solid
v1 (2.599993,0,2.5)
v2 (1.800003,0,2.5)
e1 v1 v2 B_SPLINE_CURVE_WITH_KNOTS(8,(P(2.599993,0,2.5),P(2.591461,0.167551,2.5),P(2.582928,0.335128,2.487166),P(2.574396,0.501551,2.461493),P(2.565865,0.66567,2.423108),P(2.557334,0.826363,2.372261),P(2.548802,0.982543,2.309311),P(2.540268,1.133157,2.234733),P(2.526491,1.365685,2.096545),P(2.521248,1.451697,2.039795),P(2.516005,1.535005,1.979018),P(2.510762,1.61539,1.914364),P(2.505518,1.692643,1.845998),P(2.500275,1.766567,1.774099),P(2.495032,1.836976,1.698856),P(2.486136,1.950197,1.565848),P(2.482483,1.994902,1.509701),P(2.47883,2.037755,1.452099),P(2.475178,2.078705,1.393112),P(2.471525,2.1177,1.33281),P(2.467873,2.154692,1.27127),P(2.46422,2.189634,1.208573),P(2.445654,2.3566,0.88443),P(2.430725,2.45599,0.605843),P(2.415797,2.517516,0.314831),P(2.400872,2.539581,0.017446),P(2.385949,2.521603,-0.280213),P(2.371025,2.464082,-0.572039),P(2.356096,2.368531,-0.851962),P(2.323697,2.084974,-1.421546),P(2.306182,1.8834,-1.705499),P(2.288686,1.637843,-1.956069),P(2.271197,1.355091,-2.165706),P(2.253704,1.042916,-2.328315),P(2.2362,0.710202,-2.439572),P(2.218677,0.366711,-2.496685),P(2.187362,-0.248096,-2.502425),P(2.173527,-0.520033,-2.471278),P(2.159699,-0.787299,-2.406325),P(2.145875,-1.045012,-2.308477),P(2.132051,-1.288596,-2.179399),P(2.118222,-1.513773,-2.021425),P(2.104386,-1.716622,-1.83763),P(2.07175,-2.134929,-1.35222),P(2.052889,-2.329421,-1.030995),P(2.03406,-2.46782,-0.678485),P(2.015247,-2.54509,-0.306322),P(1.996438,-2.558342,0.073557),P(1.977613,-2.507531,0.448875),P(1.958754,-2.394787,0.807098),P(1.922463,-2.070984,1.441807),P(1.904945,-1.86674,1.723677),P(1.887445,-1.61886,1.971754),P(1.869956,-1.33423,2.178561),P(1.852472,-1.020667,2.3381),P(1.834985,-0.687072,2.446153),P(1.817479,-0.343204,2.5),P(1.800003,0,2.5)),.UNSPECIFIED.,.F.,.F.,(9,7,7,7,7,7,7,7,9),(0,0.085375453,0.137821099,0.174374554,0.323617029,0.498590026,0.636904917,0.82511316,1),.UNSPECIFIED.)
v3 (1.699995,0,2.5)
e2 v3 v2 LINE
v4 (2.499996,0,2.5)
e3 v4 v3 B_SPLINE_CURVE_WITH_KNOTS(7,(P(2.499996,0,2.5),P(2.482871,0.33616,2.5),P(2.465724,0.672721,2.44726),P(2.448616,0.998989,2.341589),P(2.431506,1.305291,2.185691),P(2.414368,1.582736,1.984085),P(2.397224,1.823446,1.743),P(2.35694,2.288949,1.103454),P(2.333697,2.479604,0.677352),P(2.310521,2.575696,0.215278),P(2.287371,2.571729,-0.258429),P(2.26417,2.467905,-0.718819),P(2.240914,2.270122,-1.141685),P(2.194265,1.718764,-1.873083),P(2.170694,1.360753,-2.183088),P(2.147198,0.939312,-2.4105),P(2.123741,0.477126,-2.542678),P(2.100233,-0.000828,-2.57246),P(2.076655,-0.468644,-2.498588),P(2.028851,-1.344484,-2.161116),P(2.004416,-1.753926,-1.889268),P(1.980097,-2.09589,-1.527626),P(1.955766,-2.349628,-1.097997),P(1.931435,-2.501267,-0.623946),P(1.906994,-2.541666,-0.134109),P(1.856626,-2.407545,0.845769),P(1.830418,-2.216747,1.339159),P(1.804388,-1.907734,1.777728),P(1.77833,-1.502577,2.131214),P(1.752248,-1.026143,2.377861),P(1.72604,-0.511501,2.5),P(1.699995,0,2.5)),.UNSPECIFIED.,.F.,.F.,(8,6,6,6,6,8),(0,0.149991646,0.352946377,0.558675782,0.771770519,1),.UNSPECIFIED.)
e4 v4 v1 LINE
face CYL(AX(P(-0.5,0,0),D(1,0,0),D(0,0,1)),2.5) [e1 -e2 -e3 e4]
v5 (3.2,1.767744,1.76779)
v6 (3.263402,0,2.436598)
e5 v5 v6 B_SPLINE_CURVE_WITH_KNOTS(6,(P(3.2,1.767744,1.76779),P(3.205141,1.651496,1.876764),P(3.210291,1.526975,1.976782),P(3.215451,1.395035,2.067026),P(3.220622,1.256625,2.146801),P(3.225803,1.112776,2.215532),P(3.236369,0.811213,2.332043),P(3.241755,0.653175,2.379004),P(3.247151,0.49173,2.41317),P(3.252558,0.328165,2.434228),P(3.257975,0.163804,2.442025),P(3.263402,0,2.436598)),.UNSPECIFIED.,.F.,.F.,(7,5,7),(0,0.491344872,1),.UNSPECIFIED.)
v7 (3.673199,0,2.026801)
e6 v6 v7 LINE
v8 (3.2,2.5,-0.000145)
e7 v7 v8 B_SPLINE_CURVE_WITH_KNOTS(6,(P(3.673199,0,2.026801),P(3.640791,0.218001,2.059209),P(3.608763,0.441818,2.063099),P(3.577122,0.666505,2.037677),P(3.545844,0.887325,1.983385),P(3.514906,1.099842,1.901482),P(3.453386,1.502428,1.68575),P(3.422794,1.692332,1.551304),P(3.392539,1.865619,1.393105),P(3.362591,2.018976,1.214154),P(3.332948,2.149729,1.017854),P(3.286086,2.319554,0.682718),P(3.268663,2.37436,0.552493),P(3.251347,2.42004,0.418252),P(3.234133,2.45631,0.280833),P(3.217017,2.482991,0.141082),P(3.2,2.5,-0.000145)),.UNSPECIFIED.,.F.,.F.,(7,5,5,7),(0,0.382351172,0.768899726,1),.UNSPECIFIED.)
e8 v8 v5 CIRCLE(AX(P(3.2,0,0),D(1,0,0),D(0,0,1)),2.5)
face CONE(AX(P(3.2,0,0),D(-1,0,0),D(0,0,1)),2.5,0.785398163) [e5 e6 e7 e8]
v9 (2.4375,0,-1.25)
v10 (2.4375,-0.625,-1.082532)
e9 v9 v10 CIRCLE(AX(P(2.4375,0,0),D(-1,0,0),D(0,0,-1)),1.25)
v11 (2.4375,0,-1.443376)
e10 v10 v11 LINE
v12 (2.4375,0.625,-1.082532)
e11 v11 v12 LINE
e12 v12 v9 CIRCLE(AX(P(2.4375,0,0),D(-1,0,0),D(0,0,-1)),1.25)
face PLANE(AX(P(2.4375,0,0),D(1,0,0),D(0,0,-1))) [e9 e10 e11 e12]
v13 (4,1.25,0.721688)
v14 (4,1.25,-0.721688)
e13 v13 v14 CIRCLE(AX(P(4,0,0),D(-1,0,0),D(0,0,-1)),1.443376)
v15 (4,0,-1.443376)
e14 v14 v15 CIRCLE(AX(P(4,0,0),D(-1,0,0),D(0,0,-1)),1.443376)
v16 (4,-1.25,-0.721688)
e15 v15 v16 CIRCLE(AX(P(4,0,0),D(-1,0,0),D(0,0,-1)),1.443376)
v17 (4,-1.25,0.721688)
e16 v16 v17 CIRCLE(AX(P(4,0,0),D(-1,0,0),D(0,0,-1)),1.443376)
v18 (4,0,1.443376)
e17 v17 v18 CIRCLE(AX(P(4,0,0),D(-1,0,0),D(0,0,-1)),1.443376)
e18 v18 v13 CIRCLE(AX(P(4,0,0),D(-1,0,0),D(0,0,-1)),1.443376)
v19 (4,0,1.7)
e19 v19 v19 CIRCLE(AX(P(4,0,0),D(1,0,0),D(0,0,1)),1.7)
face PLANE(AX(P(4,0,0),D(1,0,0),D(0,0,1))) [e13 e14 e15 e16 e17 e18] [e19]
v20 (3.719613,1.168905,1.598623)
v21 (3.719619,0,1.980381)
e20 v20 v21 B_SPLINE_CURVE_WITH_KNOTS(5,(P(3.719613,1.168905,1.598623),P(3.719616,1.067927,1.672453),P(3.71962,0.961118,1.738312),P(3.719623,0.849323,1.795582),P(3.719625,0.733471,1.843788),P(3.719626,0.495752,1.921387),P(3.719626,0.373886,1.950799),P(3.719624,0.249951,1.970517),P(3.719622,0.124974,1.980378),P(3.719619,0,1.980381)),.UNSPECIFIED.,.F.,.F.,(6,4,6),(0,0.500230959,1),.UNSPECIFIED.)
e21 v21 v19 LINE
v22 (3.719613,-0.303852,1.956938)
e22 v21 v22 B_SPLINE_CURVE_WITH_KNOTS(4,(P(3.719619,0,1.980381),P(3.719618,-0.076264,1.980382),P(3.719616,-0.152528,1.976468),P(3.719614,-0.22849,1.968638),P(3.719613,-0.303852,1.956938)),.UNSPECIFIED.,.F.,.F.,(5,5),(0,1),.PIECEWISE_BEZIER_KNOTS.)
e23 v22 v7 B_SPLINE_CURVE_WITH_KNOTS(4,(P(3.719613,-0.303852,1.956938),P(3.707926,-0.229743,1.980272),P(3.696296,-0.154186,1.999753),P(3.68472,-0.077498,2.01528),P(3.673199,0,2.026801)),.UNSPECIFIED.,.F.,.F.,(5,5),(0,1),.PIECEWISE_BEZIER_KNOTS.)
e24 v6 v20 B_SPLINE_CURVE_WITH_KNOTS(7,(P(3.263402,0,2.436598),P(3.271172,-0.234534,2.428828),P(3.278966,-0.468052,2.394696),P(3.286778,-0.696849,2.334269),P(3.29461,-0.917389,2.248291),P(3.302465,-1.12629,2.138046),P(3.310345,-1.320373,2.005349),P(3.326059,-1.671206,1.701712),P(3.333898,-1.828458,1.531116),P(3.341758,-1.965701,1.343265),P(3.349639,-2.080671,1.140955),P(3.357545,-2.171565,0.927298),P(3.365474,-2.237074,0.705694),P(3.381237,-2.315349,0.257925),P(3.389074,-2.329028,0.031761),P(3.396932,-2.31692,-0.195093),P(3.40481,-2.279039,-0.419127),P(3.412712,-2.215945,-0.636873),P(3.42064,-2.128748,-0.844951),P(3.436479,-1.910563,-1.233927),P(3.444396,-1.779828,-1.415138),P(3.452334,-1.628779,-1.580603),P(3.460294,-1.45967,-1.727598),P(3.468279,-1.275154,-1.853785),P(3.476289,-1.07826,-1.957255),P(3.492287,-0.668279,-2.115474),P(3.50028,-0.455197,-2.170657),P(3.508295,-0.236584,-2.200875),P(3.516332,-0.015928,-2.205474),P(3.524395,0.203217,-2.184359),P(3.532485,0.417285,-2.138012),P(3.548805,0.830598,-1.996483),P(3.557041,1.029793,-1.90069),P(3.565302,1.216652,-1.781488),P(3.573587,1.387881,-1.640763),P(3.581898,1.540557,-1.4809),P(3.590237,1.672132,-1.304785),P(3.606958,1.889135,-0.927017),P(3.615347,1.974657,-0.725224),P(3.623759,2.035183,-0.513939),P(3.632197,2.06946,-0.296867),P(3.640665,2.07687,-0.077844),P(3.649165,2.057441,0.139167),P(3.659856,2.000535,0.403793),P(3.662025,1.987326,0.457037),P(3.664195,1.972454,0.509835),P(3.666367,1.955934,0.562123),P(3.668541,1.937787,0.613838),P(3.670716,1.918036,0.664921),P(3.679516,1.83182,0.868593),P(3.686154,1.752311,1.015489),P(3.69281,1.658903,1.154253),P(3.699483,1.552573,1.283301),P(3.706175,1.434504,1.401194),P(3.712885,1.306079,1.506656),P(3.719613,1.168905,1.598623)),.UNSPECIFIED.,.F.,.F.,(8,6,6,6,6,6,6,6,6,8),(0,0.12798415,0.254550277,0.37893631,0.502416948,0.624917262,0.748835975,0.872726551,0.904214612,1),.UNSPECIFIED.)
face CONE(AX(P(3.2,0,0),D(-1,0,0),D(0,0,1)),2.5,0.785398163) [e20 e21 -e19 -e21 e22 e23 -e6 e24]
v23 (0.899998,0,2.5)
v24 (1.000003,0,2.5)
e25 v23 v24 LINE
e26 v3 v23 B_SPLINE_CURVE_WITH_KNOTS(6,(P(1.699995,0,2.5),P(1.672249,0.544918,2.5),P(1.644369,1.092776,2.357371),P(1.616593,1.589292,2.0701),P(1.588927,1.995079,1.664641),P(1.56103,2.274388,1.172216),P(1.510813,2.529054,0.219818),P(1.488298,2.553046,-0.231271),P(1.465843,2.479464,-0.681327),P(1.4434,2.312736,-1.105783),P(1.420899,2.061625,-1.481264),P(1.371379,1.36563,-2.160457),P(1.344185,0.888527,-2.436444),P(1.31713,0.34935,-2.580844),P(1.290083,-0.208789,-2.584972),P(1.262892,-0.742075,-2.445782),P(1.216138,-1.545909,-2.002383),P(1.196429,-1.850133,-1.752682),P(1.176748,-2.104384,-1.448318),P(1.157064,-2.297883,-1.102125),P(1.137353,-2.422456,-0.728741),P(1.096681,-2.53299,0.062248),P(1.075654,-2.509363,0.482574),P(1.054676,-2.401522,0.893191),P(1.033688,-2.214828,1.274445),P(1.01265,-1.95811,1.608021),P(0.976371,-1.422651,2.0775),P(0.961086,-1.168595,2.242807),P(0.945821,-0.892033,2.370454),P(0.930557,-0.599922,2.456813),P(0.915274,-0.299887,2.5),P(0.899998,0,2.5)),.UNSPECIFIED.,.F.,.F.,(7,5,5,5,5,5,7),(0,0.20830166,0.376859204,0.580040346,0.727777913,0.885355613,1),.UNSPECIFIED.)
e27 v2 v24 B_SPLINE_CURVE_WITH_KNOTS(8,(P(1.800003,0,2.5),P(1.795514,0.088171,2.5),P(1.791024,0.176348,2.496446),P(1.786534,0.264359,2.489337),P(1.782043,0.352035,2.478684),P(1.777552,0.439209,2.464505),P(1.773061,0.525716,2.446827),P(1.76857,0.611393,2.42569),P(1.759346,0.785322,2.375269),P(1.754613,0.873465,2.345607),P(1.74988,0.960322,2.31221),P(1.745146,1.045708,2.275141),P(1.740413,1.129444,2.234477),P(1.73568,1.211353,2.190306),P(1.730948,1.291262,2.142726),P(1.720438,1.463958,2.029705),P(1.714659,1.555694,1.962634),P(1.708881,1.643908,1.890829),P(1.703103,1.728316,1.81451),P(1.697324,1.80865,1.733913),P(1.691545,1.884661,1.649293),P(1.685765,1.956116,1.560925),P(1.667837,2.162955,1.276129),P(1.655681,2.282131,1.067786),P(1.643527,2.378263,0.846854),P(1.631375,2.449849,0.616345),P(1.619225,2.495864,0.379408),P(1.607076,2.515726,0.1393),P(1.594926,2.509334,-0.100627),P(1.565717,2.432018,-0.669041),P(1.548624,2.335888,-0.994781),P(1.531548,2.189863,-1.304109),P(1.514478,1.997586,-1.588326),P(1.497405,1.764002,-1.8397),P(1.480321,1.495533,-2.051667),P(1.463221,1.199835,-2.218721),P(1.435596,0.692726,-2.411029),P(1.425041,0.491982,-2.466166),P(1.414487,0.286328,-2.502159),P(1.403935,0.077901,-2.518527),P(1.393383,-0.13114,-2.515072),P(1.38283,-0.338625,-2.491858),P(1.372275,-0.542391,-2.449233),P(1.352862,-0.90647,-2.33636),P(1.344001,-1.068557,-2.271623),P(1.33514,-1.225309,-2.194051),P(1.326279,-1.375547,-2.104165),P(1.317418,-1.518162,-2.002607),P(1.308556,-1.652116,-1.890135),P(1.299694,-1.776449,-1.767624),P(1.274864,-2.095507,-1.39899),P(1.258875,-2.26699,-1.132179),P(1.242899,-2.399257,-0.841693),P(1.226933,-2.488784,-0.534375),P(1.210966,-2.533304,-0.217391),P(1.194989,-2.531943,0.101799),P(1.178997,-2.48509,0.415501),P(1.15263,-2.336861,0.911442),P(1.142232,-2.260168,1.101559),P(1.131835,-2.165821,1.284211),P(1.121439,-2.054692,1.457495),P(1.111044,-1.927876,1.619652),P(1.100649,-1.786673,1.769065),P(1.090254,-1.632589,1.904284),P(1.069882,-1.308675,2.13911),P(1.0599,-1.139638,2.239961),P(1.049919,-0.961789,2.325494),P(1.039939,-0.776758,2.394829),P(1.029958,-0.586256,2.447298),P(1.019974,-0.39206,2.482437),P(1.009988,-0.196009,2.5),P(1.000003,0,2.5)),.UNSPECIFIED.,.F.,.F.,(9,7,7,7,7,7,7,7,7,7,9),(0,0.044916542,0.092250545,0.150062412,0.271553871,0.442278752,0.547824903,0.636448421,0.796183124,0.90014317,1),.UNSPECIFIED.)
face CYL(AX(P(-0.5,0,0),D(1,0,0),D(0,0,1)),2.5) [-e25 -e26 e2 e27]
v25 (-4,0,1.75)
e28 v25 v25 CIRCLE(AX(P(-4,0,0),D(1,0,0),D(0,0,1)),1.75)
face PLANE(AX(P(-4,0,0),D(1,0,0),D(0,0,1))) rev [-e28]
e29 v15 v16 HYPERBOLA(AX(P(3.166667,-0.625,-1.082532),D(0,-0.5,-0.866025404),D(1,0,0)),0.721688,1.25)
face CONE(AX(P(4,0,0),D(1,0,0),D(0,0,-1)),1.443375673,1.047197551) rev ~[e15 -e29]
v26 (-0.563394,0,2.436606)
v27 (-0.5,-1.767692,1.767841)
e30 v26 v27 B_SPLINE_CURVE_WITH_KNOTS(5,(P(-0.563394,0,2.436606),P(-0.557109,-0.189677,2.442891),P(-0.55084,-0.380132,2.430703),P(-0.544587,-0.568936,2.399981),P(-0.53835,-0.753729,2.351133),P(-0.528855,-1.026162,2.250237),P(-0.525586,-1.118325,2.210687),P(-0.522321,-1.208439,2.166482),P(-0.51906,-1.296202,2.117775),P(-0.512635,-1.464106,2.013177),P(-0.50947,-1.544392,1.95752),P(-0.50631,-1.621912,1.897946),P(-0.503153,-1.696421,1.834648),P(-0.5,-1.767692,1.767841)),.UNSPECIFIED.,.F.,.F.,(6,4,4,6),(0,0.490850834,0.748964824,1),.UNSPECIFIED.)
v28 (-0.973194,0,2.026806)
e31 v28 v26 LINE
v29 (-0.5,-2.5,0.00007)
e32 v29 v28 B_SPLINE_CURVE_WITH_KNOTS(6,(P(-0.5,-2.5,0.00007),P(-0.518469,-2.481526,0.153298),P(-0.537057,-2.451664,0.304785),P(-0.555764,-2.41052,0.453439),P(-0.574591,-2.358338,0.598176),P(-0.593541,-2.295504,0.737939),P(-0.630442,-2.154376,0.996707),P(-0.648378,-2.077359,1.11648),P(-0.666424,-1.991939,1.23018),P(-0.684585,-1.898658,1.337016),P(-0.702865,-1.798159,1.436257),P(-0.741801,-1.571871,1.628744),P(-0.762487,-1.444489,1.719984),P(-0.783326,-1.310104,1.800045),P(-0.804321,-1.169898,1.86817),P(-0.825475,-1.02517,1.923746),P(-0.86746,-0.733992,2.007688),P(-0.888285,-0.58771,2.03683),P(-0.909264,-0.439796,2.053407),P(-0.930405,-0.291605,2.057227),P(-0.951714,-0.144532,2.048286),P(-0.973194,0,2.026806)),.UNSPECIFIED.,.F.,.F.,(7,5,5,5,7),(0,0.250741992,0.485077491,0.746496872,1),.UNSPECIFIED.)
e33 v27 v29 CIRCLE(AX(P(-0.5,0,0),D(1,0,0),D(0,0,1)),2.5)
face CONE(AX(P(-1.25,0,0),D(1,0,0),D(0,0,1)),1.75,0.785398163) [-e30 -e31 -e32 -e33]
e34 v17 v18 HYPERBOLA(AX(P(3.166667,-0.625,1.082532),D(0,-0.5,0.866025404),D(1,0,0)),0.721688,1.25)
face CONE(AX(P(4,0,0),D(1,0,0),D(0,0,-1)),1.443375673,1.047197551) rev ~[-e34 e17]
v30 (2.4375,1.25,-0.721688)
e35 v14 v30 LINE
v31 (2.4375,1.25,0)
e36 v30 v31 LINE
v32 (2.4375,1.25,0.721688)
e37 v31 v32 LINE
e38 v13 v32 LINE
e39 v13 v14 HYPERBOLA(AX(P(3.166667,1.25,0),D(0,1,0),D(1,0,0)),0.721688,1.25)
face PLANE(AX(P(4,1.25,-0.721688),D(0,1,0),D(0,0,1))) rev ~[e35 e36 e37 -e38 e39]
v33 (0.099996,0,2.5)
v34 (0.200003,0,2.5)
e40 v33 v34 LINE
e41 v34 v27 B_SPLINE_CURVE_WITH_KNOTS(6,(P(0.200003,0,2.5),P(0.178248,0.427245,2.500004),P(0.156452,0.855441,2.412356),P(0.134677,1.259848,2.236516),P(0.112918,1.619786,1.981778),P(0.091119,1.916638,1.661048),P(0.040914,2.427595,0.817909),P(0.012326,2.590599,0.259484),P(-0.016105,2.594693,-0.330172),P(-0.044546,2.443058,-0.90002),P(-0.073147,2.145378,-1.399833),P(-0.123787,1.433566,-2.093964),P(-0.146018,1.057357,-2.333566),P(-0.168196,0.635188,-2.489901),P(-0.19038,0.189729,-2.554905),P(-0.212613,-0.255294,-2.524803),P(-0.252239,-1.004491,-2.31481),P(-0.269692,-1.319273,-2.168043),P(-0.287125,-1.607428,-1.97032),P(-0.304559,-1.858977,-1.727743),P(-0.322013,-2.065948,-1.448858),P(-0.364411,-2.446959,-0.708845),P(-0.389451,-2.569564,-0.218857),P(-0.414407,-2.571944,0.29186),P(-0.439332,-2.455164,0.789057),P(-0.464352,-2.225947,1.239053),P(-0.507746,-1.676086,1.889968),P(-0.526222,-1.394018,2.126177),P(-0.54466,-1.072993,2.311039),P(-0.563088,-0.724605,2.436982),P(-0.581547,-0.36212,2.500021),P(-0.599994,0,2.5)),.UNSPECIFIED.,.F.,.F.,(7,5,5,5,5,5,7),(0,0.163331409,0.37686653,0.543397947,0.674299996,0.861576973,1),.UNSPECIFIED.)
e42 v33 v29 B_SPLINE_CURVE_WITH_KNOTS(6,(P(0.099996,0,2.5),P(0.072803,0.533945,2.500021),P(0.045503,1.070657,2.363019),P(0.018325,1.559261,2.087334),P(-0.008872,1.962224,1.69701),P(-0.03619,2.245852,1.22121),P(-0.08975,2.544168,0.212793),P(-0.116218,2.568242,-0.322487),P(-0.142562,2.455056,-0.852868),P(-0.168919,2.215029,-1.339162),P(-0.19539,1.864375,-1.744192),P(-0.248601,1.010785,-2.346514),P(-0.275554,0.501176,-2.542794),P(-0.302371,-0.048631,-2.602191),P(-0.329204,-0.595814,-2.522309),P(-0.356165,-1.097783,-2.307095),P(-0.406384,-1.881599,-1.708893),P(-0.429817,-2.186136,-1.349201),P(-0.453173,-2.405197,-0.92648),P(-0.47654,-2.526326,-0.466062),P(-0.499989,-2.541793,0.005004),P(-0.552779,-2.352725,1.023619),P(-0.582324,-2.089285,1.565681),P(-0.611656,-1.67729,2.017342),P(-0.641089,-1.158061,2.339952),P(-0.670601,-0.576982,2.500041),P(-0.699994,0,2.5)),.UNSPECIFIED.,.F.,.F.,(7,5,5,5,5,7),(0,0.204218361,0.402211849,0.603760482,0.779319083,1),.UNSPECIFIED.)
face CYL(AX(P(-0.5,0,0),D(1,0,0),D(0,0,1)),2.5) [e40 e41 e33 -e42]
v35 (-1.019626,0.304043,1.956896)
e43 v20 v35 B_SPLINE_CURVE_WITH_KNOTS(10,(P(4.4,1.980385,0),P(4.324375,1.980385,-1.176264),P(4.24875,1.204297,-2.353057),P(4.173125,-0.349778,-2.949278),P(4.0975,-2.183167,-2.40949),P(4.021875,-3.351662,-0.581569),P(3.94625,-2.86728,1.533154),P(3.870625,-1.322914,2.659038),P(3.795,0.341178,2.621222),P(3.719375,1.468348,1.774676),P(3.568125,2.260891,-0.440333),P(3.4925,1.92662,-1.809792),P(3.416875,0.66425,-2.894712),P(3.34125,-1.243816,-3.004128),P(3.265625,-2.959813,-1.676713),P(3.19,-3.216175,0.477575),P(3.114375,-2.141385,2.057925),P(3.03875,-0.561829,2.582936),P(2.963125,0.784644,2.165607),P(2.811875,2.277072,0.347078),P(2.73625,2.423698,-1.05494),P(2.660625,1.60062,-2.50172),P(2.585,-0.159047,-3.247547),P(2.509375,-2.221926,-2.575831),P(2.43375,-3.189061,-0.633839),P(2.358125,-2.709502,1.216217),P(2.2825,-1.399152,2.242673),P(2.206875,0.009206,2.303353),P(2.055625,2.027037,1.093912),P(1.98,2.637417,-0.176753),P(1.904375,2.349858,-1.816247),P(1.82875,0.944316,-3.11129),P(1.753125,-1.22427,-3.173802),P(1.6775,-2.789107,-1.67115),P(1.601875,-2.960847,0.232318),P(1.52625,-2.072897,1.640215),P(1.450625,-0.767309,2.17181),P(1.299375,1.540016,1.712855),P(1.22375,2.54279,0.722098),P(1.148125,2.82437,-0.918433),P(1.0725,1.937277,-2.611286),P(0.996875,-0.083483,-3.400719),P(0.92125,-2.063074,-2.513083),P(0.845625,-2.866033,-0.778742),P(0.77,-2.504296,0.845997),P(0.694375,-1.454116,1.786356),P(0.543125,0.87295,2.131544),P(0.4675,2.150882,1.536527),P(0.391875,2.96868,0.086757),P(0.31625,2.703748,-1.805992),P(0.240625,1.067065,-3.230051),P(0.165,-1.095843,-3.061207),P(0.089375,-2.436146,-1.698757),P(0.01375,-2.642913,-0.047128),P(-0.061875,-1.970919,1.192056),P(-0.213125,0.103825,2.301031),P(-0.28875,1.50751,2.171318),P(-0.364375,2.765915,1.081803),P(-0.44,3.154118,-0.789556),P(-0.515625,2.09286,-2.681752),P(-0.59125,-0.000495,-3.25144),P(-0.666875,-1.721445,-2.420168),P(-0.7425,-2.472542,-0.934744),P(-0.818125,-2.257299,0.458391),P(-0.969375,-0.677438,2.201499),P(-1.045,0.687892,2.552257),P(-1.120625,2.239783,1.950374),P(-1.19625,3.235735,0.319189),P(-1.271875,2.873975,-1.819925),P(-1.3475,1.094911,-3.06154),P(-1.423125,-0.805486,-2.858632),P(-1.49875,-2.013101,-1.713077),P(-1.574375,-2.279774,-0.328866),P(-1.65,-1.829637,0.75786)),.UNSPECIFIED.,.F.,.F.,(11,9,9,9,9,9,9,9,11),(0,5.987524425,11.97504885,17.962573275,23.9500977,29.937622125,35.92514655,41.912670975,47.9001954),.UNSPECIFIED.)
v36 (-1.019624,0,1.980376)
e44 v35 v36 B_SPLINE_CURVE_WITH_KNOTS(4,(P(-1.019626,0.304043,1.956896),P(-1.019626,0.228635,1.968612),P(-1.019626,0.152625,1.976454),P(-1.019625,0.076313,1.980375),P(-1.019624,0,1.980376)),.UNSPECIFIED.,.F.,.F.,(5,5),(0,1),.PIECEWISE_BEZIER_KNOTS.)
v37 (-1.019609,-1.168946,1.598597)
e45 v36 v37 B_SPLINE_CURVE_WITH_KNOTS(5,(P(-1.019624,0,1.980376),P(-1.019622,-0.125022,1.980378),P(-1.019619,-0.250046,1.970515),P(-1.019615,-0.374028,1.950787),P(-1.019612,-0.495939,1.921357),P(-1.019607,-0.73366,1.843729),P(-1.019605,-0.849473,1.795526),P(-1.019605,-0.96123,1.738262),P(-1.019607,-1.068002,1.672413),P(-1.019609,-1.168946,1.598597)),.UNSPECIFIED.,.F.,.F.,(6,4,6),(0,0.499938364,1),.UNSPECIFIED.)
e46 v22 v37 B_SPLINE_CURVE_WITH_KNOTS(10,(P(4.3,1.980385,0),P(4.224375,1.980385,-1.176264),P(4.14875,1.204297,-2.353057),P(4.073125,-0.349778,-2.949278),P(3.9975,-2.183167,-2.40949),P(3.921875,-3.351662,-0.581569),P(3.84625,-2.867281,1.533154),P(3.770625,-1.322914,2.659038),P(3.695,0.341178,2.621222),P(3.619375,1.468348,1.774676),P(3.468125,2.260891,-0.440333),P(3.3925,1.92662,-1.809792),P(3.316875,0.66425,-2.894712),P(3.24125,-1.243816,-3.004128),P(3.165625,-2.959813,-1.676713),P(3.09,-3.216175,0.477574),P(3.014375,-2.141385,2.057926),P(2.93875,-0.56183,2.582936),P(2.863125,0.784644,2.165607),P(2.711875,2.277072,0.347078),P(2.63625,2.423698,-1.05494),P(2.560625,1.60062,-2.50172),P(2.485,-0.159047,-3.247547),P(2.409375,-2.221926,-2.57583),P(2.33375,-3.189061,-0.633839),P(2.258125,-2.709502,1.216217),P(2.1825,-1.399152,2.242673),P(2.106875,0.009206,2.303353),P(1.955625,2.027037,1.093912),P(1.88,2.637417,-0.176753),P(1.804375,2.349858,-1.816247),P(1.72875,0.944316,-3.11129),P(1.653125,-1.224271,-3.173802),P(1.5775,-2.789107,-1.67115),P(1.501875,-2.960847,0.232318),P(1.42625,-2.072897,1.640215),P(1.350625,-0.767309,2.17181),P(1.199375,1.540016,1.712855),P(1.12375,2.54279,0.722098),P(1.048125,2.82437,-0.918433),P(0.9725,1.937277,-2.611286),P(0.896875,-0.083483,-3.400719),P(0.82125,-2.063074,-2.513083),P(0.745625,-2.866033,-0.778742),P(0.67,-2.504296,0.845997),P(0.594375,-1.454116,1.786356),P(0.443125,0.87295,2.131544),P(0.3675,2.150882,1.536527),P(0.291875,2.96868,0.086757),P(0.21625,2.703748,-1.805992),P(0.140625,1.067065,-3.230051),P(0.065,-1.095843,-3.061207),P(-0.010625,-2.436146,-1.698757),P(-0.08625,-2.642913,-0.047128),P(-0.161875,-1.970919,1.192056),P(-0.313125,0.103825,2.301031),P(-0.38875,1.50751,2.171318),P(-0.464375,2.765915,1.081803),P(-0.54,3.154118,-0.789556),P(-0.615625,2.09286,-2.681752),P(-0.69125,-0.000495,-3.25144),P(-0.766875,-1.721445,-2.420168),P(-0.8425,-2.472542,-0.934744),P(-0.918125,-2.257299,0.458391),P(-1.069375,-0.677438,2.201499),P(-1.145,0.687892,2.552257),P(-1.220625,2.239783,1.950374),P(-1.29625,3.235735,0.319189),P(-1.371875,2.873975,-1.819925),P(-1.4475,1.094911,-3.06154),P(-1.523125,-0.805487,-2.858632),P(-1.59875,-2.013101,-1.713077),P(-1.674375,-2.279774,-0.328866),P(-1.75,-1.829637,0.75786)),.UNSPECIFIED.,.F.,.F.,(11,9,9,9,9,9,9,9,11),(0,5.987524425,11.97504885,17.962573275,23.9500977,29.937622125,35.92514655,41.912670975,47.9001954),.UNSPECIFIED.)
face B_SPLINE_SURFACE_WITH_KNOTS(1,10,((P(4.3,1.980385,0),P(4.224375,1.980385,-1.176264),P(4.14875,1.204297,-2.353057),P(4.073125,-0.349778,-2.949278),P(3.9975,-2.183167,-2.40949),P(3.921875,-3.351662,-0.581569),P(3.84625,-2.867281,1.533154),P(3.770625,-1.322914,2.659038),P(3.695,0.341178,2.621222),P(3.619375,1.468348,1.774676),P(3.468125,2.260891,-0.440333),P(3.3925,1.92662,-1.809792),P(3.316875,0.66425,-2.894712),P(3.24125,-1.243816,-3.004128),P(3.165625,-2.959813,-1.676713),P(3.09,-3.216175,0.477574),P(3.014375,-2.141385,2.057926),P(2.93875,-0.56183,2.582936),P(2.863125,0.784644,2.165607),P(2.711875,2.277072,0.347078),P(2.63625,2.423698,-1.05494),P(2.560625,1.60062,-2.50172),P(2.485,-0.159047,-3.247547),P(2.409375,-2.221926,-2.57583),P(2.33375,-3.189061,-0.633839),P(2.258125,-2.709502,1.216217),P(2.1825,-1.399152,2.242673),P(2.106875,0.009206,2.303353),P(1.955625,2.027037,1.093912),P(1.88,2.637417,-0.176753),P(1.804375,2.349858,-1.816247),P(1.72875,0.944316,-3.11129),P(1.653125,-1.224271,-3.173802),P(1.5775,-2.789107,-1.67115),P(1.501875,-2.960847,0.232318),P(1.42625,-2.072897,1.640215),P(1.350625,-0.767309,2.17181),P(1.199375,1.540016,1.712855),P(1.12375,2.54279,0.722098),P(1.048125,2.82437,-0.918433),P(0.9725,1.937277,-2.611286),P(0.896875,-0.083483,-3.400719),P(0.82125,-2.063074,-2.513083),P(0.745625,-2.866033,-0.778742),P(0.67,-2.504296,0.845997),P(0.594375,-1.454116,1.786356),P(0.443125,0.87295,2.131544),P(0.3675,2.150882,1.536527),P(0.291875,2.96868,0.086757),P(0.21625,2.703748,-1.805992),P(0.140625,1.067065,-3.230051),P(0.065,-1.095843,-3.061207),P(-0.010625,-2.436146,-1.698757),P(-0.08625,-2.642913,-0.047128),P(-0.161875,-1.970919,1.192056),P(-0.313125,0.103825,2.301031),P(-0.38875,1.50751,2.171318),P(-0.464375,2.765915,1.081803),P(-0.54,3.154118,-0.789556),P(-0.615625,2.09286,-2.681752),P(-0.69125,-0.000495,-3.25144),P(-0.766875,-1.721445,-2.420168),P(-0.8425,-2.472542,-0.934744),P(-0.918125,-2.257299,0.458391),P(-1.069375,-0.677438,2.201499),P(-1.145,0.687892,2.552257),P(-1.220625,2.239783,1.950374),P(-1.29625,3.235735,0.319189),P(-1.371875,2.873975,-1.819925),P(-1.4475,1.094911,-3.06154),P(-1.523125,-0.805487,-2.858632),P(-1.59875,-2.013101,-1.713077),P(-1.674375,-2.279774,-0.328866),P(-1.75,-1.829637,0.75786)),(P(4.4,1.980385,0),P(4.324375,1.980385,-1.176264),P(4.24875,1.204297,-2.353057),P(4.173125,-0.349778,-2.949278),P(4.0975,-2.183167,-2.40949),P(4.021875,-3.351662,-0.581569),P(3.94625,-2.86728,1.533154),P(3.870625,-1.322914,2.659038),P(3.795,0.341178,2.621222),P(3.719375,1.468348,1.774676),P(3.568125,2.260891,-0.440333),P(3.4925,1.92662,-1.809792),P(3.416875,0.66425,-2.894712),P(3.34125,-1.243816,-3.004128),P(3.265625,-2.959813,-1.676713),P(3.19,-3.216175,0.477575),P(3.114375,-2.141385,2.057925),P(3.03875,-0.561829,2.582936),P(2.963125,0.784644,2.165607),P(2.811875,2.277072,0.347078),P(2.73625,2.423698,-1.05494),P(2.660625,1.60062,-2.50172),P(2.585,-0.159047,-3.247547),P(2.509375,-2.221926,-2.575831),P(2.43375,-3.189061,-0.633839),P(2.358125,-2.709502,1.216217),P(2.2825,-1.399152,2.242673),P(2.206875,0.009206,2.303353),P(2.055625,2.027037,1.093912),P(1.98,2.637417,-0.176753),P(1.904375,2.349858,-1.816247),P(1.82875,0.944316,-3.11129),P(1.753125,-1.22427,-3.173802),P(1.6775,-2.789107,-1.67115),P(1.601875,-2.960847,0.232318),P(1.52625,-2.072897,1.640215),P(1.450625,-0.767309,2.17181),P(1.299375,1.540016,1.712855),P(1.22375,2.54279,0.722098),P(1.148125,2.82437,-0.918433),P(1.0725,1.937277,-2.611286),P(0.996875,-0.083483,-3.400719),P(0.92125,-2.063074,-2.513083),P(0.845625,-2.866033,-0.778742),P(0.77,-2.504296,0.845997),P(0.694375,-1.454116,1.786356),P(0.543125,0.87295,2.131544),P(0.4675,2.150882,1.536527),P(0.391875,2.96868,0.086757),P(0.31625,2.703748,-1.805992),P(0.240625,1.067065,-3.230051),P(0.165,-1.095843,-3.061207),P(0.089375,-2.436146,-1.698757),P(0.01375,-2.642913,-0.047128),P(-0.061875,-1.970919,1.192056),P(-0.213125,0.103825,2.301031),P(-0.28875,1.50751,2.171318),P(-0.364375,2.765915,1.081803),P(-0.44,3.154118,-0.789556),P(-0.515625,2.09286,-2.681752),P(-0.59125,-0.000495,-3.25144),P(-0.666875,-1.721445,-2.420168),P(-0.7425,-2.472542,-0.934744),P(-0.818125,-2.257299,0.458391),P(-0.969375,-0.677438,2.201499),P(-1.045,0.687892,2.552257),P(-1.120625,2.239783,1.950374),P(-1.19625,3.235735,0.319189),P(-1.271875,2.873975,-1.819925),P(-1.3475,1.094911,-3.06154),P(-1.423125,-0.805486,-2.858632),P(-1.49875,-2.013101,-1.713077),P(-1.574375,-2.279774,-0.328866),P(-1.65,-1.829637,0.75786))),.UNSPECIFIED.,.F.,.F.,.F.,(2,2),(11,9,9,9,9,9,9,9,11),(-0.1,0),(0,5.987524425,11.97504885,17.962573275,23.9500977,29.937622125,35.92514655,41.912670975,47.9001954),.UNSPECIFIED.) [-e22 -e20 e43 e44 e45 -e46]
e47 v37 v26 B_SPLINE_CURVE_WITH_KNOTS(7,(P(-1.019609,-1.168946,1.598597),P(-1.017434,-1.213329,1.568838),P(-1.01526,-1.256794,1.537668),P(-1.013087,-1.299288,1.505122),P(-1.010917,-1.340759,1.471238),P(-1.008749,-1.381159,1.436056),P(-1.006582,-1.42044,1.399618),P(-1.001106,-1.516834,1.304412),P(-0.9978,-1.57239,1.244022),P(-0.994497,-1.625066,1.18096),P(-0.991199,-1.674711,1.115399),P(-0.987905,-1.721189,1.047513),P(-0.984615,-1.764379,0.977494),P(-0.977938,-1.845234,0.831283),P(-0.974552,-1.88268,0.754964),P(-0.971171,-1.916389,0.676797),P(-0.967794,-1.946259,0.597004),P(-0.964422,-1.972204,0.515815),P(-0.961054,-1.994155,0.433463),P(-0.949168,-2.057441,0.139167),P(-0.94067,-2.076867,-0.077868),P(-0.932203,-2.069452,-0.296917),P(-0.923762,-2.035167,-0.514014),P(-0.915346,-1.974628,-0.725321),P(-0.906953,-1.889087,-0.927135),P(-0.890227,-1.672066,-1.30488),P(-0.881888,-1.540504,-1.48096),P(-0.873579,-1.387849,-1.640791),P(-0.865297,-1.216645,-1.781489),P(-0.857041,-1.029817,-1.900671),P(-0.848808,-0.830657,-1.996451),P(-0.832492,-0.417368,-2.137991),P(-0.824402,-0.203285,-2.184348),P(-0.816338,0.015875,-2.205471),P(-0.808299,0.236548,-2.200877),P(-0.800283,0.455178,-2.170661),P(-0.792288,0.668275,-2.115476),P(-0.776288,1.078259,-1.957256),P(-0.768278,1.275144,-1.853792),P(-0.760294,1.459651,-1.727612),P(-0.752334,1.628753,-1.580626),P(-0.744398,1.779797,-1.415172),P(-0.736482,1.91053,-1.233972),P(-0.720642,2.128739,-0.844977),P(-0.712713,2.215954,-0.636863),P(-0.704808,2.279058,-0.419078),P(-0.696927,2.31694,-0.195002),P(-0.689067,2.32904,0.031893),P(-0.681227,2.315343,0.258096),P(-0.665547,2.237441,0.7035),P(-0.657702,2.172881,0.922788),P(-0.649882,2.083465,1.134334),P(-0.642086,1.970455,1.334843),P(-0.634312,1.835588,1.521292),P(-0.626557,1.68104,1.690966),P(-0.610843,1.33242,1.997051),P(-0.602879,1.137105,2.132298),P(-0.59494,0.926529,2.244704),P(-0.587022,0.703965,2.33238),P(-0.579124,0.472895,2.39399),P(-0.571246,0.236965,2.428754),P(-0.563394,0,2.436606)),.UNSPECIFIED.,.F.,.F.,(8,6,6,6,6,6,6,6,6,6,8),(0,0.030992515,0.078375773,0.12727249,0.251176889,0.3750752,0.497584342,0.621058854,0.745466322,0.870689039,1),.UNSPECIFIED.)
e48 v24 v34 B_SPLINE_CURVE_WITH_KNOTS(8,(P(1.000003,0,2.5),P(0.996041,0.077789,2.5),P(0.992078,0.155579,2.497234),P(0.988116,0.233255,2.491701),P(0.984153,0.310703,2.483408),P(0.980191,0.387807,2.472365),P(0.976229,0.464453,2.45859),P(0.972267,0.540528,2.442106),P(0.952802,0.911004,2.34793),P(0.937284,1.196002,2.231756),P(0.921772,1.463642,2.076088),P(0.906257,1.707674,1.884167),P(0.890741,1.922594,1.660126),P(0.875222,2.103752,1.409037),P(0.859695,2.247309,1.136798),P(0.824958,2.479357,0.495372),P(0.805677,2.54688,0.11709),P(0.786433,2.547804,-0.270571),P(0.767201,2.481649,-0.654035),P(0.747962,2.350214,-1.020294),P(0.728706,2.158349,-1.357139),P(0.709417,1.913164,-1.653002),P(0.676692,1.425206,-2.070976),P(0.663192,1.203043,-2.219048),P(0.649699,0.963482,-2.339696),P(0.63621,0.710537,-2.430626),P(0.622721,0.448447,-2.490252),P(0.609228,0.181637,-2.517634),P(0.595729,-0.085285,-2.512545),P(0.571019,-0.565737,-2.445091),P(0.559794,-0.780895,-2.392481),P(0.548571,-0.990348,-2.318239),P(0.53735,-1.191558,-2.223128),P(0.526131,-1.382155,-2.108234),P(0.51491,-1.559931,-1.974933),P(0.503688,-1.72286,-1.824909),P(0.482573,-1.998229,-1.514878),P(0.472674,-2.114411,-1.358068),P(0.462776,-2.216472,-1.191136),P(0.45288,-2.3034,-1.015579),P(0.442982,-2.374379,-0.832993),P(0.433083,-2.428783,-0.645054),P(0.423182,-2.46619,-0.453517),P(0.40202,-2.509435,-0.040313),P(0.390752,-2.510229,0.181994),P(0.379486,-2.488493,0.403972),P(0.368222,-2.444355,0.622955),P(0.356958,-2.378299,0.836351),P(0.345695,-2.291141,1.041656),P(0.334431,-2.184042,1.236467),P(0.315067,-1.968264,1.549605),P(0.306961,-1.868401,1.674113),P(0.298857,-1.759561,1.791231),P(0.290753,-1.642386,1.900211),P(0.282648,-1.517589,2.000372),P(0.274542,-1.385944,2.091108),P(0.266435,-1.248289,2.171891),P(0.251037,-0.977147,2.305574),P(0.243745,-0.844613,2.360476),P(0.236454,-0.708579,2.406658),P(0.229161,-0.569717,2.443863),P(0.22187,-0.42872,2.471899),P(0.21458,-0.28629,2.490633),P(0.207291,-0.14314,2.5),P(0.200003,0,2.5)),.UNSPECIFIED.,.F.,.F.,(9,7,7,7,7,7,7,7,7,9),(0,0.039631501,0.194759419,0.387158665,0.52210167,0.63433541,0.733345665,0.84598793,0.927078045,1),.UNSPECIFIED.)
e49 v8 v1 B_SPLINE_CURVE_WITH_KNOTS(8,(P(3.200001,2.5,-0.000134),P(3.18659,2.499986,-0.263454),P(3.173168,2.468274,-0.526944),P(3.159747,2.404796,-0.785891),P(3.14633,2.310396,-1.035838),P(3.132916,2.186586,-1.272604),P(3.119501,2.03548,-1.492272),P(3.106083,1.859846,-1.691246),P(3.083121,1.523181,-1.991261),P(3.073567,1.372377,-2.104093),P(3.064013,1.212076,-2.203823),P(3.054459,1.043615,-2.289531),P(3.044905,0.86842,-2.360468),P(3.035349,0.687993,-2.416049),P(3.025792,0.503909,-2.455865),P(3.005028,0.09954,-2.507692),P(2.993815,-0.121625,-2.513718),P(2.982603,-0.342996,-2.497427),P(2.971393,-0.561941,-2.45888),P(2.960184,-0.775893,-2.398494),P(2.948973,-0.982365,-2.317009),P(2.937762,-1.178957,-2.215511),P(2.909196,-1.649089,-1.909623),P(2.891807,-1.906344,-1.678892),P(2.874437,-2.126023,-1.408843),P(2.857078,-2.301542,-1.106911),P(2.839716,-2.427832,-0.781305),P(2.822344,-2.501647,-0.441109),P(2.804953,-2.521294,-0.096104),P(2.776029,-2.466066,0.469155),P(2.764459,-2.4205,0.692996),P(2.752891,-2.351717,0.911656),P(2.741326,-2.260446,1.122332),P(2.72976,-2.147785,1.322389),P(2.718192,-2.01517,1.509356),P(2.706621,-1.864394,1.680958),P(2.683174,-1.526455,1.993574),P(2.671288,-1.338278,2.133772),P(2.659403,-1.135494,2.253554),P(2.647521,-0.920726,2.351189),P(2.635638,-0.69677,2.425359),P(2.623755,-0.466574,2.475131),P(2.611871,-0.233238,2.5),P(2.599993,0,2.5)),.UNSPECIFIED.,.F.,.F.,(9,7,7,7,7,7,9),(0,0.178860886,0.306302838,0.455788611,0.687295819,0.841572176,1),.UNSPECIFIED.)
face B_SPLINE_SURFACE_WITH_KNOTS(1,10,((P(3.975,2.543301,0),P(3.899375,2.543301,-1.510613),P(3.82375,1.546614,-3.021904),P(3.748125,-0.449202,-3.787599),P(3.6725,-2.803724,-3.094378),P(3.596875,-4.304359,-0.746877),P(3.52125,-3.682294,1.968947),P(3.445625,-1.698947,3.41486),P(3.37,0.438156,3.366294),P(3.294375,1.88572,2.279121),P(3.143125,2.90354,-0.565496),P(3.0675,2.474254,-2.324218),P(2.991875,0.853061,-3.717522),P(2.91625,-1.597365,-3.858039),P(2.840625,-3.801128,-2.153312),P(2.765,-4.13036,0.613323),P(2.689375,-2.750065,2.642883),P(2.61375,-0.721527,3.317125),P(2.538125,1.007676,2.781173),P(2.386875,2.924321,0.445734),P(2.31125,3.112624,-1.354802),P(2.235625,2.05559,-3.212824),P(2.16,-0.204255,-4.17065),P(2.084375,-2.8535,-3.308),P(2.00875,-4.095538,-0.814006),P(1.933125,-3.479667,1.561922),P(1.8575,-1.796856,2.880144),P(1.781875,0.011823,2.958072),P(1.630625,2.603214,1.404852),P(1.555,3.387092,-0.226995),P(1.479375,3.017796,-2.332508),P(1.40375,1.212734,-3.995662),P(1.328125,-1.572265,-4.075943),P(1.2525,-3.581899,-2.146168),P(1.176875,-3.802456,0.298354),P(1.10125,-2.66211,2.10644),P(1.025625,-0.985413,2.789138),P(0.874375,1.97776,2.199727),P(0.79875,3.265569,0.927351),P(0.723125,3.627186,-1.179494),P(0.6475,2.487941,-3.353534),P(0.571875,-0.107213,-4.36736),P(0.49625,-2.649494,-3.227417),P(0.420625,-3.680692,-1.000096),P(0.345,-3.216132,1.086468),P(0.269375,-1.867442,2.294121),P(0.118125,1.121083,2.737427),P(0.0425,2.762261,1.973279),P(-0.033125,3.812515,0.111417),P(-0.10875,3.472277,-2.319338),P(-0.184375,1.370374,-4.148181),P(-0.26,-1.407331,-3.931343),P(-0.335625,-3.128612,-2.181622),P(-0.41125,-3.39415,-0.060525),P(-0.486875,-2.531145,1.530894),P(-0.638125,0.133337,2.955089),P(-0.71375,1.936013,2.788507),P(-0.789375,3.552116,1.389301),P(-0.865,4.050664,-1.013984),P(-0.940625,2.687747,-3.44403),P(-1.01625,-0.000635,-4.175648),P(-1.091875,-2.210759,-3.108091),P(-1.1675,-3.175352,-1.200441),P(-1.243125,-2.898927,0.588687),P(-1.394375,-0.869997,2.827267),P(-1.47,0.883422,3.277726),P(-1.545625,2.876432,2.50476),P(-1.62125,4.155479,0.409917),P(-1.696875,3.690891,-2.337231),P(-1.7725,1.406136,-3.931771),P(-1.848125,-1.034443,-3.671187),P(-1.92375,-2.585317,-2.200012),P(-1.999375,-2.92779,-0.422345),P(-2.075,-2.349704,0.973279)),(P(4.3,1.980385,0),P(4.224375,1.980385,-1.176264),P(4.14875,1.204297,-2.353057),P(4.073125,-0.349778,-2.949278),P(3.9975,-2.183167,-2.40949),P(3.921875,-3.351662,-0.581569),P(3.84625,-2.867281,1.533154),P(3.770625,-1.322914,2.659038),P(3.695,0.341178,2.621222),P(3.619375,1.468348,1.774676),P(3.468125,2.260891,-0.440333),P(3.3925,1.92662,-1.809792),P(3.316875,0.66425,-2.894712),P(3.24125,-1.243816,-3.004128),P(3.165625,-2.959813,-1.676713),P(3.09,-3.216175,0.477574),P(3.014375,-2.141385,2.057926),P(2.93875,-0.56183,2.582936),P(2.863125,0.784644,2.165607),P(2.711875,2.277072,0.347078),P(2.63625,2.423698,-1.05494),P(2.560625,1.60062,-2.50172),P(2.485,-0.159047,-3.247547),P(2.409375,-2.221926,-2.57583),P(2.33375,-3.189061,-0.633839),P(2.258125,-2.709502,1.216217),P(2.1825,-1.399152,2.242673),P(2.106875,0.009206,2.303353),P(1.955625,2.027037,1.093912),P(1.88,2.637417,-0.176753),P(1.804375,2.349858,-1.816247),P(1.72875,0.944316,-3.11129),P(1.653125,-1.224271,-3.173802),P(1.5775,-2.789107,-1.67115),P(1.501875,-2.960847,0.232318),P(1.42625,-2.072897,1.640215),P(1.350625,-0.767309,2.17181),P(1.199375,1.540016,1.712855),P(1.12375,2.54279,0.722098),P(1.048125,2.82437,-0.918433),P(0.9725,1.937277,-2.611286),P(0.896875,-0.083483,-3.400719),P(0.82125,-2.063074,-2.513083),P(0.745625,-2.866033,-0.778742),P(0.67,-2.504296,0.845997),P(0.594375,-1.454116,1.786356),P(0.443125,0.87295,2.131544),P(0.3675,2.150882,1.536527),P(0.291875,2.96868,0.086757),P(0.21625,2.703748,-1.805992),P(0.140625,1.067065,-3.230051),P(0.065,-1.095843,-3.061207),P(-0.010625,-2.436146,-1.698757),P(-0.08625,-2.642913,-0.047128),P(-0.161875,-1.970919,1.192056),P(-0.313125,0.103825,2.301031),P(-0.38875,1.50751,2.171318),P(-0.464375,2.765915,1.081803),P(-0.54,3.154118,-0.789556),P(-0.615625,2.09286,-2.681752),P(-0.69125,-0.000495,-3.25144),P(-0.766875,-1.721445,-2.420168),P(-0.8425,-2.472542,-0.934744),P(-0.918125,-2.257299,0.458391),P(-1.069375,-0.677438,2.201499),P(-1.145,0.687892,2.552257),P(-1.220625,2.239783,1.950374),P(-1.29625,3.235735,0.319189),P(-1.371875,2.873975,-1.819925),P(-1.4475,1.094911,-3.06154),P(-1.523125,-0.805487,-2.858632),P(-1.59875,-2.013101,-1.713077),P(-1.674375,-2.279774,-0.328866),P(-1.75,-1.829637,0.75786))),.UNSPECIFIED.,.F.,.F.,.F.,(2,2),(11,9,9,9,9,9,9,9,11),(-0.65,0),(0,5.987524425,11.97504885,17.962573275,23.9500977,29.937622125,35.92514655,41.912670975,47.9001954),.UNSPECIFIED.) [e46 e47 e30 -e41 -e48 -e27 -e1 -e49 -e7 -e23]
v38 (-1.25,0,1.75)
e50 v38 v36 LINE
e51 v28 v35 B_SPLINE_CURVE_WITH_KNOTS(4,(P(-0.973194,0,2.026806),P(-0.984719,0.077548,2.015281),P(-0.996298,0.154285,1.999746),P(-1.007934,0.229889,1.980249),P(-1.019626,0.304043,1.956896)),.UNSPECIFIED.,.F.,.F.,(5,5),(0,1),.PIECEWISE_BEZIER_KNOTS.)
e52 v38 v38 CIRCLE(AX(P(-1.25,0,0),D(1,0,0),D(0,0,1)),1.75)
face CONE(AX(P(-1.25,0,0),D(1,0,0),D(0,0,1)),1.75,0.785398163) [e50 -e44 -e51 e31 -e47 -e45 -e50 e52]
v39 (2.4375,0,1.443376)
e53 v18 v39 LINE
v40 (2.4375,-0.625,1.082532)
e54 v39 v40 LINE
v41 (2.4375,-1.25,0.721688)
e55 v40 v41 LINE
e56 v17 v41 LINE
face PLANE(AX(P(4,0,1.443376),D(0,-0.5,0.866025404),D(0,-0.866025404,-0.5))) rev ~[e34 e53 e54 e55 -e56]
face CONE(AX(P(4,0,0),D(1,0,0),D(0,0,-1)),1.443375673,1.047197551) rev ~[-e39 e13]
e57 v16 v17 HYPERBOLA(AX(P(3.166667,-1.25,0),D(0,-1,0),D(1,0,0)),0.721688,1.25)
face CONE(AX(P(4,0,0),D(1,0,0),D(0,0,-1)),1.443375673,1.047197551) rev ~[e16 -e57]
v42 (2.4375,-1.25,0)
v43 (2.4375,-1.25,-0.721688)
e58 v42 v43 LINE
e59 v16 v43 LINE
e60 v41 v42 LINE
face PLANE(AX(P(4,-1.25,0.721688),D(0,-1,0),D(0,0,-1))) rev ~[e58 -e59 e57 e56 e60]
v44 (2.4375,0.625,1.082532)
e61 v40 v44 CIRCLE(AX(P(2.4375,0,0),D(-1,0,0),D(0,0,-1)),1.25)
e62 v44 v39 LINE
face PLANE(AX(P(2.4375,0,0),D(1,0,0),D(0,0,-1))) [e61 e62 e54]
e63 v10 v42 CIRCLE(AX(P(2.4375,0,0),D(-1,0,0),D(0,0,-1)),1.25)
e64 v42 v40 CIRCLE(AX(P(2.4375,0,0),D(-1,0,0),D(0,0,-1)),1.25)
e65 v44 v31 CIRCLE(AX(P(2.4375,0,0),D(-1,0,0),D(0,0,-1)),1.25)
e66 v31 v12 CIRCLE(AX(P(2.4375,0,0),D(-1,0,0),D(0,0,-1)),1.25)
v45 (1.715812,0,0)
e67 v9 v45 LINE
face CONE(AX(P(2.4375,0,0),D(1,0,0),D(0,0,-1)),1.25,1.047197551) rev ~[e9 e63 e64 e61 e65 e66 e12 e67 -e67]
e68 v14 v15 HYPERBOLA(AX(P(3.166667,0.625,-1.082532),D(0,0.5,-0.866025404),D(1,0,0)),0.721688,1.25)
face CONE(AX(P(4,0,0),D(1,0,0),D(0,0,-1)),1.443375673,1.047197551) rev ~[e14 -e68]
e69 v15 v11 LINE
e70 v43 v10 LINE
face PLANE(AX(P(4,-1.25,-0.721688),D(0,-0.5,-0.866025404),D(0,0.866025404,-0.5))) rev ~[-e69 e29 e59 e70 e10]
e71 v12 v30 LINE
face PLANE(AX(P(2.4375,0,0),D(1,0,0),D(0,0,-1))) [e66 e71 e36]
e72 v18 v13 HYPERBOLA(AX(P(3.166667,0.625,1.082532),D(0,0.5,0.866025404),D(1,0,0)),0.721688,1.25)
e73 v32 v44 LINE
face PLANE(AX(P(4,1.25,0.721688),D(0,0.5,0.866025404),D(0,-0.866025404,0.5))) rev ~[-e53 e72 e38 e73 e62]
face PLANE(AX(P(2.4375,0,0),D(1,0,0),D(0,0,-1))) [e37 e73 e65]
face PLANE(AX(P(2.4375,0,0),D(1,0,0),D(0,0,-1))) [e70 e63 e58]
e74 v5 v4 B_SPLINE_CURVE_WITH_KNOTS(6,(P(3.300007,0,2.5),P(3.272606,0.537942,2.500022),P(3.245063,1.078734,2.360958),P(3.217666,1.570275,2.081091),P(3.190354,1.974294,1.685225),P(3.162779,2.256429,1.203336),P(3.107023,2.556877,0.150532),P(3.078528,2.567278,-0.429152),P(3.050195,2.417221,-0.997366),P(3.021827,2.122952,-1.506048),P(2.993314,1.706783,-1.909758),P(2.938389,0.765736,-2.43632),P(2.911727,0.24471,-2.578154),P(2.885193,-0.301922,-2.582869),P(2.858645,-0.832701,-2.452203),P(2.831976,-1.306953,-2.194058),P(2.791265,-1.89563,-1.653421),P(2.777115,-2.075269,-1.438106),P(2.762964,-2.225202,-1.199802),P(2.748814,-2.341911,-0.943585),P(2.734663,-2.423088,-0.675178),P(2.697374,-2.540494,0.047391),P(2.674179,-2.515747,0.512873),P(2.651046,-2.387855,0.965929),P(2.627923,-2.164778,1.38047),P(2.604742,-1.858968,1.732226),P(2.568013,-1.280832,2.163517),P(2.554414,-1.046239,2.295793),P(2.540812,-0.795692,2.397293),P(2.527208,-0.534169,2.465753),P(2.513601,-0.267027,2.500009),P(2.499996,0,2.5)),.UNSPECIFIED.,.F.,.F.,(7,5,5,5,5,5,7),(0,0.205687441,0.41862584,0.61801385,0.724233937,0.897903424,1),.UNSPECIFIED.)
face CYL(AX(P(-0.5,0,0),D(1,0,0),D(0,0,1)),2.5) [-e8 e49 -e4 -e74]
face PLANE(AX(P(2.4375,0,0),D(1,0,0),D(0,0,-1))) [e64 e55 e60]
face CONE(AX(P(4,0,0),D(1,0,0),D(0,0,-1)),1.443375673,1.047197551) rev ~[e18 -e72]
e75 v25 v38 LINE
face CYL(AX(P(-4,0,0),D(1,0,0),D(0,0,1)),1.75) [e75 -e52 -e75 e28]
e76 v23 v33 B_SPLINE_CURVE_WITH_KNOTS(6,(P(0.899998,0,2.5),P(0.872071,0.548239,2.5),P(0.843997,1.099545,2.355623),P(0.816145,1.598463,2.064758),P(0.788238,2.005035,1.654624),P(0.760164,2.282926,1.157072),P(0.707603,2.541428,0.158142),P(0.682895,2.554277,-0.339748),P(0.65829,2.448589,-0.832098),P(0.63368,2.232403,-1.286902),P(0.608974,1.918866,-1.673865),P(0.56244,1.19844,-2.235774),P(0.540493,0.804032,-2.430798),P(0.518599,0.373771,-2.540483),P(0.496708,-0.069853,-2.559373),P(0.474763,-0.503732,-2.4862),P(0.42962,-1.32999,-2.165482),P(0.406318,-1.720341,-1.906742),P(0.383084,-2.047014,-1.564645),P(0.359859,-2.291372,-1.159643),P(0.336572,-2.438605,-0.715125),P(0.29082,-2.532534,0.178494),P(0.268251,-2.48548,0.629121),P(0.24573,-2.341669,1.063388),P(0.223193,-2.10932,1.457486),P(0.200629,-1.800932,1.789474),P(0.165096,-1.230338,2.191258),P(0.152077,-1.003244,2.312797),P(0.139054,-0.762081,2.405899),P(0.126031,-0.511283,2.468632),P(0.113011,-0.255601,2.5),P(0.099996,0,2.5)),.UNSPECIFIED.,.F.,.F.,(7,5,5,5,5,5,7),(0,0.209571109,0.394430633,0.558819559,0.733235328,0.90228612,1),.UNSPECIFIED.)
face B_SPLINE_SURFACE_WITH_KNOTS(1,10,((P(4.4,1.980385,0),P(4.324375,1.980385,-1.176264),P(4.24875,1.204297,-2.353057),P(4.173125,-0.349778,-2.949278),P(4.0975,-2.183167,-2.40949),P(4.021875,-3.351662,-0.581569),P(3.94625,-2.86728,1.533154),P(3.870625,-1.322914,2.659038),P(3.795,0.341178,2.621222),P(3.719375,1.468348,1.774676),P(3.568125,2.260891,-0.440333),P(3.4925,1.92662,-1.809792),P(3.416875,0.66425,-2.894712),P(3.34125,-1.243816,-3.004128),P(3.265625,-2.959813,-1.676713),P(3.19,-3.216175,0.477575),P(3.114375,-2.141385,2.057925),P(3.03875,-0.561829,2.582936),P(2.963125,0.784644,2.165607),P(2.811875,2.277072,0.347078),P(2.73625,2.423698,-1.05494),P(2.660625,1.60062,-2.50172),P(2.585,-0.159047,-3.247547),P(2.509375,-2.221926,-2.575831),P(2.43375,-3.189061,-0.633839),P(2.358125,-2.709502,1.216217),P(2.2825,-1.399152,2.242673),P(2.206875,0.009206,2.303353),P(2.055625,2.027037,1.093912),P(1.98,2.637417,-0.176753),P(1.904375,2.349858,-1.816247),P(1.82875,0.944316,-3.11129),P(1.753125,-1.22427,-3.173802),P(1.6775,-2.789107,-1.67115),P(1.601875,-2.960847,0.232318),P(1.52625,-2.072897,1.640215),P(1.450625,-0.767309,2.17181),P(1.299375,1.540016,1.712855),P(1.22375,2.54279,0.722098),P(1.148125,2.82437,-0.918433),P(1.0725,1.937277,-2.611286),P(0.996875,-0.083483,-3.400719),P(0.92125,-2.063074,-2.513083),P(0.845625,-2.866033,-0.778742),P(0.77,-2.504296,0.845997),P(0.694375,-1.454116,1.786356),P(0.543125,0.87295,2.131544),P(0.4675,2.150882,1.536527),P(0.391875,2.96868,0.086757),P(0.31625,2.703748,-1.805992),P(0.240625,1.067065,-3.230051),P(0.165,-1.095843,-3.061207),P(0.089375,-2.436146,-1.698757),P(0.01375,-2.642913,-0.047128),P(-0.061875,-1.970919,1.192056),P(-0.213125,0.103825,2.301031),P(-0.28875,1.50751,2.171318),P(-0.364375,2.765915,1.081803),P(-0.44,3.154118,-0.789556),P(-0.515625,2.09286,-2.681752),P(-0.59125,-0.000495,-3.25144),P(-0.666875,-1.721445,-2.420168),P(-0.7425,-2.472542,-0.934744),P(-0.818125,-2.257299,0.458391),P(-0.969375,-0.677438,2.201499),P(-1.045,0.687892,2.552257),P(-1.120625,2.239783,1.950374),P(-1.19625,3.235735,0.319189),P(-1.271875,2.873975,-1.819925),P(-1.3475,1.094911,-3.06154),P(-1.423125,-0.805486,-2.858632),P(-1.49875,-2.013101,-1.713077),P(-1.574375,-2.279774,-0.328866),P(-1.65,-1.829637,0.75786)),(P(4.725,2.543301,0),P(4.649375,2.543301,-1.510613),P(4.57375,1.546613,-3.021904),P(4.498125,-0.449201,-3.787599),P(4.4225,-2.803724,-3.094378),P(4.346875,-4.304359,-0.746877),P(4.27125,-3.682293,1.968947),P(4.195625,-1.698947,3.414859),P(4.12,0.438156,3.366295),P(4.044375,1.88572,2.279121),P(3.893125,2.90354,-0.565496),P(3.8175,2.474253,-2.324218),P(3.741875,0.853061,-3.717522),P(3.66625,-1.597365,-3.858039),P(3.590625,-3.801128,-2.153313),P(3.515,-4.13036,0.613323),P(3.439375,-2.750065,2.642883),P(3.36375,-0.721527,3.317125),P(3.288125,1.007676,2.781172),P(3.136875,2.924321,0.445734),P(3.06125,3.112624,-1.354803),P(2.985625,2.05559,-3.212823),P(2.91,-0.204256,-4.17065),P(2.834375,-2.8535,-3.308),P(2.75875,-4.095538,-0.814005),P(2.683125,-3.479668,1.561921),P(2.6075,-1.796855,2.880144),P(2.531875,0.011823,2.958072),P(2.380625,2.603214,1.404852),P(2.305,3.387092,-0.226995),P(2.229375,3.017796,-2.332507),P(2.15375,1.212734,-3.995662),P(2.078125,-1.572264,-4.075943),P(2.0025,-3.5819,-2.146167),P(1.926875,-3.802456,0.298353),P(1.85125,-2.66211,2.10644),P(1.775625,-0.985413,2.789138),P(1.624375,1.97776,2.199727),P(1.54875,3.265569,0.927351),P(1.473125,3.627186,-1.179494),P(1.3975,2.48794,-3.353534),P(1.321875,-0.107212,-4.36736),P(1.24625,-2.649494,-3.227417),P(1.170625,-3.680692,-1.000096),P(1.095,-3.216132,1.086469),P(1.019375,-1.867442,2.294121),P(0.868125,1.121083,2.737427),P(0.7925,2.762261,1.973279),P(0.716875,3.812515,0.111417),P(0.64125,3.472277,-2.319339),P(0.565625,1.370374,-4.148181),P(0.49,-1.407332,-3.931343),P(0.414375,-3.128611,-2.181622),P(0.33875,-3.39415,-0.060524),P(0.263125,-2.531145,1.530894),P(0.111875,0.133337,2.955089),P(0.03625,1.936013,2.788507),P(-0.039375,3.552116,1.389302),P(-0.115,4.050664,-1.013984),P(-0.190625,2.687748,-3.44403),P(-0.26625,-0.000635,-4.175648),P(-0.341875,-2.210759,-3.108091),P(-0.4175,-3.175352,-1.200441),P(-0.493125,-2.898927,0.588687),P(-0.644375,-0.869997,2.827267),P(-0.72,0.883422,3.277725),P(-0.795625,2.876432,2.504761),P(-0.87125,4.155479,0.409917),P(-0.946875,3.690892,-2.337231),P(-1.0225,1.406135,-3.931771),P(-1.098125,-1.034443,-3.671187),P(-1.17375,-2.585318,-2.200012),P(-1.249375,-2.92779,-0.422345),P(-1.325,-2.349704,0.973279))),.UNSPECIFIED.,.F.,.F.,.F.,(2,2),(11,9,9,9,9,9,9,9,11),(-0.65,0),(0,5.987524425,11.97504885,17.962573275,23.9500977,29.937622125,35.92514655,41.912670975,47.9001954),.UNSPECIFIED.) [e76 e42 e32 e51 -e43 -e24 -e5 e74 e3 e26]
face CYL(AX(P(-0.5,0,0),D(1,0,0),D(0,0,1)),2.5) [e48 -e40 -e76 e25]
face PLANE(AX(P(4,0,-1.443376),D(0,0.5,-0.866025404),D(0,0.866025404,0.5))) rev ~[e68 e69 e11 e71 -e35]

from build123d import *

# Parameters (mm, degrees)
CUT_EXTRUDE1_DEPTH     = 1.5625
CUT_SWEEP1_PITCH       = 0.8
CUT_SWEEP1_HEIGHT      = 6.05
CUT_SWEEP1_RADIUS      = 2.5
CUT_SWEEP1_START_ANGLE = -90


with BuildPart() as part:
    # Sketch2 → Revolve1 (revolve)
    with BuildSketch(Plane.XY, mode=Mode.PRIVATE) as revolve1_sk:
        Polygon((-4, 0), (-4, 1.75), (-1.25, 1.75), (-0.5, 2.5), (3.2, 2.5), (4, 1.7), (4, 0), align=None)
    revolve(revolve1_sk.sketch.rotate(Axis((-4, 0, 0), (1, 0, 0)), 90), axis=Axis((-4, 0, 0), (1, 0, 0)))

    # Sketch3 → Cut-Extrude1 (cut)
    with BuildSketch(Plane(origin=(4, 0, 0), x_dir=(0, 0, -1), z_dir=(1, 0, 0))):
        Polygon((0.721687836, 1.25), (-0.721687836, 1.25), (-1.443375673, 0), (-0.721687836, -1.25), (0.721687836, -1.25), (1.443375673, 0), align=None)
    extrude(amount=-CUT_EXTRUDE1_DEPTH, mode=Mode.SUBTRACT)

    # Cut-Extrude2 cone 1 section (through the dimple's axis) → Cut-Extrude2 (revolve, cut)
    with BuildSketch(Plane(origin=(4, 0, 0), x_dir=(0, 0, -1), z_dir=(0, 1, 0))):
        Polygon((0, 0), (1.443375673, 0), (0, 0.833333333), align=None)
    revolve(axis=Axis((4, 0, 0), (-1, 0, 0)), mode=Mode.SUBTRACT)

    # Cut-Extrude3 cone 1 section (through the dimple's axis) → Cut-Extrude3 (revolve, cut)
    with BuildSketch(Plane(origin=(2.4375, 0, 0), x_dir=(0, 0, -1), z_dir=(0, 1, 0))):
        Polygon((0, 0), (1.25, 0), (0, 0.721687836), align=None)
    revolve(axis=Axis((2.4375, 0, 0), (-1, 0, 0)), mode=Mode.SUBTRACT)

    # Cut-Sweep1: sweep along a helix
    with BuildLine() as cut_sweep1_path:
        add(Helix(CUT_SWEEP1_PITCH, CUT_SWEEP1_HEIGHT, CUT_SWEEP1_RADIUS, center=(4, 0, 0), direction=(-1, 0, 0), mode=Mode.PRIVATE).rotate(Axis((4, 0, 0), (-1, 0, 0)), CUT_SWEEP1_START_ANGLE))
    # Sketch6 → Cut-Sweep1 (sweep, cut)
    with BuildSketch(Plane.XY):
        Polygon((3.975, 2.54330127), (4.725, 2.54330127), (4.4, 1.980384758), (4.3, 1.980384758), align=None)
    sweep(path=cut_sweep1_path.line, is_frenet=True, mode=Mode.SUBTRACT)


solid = part.part
